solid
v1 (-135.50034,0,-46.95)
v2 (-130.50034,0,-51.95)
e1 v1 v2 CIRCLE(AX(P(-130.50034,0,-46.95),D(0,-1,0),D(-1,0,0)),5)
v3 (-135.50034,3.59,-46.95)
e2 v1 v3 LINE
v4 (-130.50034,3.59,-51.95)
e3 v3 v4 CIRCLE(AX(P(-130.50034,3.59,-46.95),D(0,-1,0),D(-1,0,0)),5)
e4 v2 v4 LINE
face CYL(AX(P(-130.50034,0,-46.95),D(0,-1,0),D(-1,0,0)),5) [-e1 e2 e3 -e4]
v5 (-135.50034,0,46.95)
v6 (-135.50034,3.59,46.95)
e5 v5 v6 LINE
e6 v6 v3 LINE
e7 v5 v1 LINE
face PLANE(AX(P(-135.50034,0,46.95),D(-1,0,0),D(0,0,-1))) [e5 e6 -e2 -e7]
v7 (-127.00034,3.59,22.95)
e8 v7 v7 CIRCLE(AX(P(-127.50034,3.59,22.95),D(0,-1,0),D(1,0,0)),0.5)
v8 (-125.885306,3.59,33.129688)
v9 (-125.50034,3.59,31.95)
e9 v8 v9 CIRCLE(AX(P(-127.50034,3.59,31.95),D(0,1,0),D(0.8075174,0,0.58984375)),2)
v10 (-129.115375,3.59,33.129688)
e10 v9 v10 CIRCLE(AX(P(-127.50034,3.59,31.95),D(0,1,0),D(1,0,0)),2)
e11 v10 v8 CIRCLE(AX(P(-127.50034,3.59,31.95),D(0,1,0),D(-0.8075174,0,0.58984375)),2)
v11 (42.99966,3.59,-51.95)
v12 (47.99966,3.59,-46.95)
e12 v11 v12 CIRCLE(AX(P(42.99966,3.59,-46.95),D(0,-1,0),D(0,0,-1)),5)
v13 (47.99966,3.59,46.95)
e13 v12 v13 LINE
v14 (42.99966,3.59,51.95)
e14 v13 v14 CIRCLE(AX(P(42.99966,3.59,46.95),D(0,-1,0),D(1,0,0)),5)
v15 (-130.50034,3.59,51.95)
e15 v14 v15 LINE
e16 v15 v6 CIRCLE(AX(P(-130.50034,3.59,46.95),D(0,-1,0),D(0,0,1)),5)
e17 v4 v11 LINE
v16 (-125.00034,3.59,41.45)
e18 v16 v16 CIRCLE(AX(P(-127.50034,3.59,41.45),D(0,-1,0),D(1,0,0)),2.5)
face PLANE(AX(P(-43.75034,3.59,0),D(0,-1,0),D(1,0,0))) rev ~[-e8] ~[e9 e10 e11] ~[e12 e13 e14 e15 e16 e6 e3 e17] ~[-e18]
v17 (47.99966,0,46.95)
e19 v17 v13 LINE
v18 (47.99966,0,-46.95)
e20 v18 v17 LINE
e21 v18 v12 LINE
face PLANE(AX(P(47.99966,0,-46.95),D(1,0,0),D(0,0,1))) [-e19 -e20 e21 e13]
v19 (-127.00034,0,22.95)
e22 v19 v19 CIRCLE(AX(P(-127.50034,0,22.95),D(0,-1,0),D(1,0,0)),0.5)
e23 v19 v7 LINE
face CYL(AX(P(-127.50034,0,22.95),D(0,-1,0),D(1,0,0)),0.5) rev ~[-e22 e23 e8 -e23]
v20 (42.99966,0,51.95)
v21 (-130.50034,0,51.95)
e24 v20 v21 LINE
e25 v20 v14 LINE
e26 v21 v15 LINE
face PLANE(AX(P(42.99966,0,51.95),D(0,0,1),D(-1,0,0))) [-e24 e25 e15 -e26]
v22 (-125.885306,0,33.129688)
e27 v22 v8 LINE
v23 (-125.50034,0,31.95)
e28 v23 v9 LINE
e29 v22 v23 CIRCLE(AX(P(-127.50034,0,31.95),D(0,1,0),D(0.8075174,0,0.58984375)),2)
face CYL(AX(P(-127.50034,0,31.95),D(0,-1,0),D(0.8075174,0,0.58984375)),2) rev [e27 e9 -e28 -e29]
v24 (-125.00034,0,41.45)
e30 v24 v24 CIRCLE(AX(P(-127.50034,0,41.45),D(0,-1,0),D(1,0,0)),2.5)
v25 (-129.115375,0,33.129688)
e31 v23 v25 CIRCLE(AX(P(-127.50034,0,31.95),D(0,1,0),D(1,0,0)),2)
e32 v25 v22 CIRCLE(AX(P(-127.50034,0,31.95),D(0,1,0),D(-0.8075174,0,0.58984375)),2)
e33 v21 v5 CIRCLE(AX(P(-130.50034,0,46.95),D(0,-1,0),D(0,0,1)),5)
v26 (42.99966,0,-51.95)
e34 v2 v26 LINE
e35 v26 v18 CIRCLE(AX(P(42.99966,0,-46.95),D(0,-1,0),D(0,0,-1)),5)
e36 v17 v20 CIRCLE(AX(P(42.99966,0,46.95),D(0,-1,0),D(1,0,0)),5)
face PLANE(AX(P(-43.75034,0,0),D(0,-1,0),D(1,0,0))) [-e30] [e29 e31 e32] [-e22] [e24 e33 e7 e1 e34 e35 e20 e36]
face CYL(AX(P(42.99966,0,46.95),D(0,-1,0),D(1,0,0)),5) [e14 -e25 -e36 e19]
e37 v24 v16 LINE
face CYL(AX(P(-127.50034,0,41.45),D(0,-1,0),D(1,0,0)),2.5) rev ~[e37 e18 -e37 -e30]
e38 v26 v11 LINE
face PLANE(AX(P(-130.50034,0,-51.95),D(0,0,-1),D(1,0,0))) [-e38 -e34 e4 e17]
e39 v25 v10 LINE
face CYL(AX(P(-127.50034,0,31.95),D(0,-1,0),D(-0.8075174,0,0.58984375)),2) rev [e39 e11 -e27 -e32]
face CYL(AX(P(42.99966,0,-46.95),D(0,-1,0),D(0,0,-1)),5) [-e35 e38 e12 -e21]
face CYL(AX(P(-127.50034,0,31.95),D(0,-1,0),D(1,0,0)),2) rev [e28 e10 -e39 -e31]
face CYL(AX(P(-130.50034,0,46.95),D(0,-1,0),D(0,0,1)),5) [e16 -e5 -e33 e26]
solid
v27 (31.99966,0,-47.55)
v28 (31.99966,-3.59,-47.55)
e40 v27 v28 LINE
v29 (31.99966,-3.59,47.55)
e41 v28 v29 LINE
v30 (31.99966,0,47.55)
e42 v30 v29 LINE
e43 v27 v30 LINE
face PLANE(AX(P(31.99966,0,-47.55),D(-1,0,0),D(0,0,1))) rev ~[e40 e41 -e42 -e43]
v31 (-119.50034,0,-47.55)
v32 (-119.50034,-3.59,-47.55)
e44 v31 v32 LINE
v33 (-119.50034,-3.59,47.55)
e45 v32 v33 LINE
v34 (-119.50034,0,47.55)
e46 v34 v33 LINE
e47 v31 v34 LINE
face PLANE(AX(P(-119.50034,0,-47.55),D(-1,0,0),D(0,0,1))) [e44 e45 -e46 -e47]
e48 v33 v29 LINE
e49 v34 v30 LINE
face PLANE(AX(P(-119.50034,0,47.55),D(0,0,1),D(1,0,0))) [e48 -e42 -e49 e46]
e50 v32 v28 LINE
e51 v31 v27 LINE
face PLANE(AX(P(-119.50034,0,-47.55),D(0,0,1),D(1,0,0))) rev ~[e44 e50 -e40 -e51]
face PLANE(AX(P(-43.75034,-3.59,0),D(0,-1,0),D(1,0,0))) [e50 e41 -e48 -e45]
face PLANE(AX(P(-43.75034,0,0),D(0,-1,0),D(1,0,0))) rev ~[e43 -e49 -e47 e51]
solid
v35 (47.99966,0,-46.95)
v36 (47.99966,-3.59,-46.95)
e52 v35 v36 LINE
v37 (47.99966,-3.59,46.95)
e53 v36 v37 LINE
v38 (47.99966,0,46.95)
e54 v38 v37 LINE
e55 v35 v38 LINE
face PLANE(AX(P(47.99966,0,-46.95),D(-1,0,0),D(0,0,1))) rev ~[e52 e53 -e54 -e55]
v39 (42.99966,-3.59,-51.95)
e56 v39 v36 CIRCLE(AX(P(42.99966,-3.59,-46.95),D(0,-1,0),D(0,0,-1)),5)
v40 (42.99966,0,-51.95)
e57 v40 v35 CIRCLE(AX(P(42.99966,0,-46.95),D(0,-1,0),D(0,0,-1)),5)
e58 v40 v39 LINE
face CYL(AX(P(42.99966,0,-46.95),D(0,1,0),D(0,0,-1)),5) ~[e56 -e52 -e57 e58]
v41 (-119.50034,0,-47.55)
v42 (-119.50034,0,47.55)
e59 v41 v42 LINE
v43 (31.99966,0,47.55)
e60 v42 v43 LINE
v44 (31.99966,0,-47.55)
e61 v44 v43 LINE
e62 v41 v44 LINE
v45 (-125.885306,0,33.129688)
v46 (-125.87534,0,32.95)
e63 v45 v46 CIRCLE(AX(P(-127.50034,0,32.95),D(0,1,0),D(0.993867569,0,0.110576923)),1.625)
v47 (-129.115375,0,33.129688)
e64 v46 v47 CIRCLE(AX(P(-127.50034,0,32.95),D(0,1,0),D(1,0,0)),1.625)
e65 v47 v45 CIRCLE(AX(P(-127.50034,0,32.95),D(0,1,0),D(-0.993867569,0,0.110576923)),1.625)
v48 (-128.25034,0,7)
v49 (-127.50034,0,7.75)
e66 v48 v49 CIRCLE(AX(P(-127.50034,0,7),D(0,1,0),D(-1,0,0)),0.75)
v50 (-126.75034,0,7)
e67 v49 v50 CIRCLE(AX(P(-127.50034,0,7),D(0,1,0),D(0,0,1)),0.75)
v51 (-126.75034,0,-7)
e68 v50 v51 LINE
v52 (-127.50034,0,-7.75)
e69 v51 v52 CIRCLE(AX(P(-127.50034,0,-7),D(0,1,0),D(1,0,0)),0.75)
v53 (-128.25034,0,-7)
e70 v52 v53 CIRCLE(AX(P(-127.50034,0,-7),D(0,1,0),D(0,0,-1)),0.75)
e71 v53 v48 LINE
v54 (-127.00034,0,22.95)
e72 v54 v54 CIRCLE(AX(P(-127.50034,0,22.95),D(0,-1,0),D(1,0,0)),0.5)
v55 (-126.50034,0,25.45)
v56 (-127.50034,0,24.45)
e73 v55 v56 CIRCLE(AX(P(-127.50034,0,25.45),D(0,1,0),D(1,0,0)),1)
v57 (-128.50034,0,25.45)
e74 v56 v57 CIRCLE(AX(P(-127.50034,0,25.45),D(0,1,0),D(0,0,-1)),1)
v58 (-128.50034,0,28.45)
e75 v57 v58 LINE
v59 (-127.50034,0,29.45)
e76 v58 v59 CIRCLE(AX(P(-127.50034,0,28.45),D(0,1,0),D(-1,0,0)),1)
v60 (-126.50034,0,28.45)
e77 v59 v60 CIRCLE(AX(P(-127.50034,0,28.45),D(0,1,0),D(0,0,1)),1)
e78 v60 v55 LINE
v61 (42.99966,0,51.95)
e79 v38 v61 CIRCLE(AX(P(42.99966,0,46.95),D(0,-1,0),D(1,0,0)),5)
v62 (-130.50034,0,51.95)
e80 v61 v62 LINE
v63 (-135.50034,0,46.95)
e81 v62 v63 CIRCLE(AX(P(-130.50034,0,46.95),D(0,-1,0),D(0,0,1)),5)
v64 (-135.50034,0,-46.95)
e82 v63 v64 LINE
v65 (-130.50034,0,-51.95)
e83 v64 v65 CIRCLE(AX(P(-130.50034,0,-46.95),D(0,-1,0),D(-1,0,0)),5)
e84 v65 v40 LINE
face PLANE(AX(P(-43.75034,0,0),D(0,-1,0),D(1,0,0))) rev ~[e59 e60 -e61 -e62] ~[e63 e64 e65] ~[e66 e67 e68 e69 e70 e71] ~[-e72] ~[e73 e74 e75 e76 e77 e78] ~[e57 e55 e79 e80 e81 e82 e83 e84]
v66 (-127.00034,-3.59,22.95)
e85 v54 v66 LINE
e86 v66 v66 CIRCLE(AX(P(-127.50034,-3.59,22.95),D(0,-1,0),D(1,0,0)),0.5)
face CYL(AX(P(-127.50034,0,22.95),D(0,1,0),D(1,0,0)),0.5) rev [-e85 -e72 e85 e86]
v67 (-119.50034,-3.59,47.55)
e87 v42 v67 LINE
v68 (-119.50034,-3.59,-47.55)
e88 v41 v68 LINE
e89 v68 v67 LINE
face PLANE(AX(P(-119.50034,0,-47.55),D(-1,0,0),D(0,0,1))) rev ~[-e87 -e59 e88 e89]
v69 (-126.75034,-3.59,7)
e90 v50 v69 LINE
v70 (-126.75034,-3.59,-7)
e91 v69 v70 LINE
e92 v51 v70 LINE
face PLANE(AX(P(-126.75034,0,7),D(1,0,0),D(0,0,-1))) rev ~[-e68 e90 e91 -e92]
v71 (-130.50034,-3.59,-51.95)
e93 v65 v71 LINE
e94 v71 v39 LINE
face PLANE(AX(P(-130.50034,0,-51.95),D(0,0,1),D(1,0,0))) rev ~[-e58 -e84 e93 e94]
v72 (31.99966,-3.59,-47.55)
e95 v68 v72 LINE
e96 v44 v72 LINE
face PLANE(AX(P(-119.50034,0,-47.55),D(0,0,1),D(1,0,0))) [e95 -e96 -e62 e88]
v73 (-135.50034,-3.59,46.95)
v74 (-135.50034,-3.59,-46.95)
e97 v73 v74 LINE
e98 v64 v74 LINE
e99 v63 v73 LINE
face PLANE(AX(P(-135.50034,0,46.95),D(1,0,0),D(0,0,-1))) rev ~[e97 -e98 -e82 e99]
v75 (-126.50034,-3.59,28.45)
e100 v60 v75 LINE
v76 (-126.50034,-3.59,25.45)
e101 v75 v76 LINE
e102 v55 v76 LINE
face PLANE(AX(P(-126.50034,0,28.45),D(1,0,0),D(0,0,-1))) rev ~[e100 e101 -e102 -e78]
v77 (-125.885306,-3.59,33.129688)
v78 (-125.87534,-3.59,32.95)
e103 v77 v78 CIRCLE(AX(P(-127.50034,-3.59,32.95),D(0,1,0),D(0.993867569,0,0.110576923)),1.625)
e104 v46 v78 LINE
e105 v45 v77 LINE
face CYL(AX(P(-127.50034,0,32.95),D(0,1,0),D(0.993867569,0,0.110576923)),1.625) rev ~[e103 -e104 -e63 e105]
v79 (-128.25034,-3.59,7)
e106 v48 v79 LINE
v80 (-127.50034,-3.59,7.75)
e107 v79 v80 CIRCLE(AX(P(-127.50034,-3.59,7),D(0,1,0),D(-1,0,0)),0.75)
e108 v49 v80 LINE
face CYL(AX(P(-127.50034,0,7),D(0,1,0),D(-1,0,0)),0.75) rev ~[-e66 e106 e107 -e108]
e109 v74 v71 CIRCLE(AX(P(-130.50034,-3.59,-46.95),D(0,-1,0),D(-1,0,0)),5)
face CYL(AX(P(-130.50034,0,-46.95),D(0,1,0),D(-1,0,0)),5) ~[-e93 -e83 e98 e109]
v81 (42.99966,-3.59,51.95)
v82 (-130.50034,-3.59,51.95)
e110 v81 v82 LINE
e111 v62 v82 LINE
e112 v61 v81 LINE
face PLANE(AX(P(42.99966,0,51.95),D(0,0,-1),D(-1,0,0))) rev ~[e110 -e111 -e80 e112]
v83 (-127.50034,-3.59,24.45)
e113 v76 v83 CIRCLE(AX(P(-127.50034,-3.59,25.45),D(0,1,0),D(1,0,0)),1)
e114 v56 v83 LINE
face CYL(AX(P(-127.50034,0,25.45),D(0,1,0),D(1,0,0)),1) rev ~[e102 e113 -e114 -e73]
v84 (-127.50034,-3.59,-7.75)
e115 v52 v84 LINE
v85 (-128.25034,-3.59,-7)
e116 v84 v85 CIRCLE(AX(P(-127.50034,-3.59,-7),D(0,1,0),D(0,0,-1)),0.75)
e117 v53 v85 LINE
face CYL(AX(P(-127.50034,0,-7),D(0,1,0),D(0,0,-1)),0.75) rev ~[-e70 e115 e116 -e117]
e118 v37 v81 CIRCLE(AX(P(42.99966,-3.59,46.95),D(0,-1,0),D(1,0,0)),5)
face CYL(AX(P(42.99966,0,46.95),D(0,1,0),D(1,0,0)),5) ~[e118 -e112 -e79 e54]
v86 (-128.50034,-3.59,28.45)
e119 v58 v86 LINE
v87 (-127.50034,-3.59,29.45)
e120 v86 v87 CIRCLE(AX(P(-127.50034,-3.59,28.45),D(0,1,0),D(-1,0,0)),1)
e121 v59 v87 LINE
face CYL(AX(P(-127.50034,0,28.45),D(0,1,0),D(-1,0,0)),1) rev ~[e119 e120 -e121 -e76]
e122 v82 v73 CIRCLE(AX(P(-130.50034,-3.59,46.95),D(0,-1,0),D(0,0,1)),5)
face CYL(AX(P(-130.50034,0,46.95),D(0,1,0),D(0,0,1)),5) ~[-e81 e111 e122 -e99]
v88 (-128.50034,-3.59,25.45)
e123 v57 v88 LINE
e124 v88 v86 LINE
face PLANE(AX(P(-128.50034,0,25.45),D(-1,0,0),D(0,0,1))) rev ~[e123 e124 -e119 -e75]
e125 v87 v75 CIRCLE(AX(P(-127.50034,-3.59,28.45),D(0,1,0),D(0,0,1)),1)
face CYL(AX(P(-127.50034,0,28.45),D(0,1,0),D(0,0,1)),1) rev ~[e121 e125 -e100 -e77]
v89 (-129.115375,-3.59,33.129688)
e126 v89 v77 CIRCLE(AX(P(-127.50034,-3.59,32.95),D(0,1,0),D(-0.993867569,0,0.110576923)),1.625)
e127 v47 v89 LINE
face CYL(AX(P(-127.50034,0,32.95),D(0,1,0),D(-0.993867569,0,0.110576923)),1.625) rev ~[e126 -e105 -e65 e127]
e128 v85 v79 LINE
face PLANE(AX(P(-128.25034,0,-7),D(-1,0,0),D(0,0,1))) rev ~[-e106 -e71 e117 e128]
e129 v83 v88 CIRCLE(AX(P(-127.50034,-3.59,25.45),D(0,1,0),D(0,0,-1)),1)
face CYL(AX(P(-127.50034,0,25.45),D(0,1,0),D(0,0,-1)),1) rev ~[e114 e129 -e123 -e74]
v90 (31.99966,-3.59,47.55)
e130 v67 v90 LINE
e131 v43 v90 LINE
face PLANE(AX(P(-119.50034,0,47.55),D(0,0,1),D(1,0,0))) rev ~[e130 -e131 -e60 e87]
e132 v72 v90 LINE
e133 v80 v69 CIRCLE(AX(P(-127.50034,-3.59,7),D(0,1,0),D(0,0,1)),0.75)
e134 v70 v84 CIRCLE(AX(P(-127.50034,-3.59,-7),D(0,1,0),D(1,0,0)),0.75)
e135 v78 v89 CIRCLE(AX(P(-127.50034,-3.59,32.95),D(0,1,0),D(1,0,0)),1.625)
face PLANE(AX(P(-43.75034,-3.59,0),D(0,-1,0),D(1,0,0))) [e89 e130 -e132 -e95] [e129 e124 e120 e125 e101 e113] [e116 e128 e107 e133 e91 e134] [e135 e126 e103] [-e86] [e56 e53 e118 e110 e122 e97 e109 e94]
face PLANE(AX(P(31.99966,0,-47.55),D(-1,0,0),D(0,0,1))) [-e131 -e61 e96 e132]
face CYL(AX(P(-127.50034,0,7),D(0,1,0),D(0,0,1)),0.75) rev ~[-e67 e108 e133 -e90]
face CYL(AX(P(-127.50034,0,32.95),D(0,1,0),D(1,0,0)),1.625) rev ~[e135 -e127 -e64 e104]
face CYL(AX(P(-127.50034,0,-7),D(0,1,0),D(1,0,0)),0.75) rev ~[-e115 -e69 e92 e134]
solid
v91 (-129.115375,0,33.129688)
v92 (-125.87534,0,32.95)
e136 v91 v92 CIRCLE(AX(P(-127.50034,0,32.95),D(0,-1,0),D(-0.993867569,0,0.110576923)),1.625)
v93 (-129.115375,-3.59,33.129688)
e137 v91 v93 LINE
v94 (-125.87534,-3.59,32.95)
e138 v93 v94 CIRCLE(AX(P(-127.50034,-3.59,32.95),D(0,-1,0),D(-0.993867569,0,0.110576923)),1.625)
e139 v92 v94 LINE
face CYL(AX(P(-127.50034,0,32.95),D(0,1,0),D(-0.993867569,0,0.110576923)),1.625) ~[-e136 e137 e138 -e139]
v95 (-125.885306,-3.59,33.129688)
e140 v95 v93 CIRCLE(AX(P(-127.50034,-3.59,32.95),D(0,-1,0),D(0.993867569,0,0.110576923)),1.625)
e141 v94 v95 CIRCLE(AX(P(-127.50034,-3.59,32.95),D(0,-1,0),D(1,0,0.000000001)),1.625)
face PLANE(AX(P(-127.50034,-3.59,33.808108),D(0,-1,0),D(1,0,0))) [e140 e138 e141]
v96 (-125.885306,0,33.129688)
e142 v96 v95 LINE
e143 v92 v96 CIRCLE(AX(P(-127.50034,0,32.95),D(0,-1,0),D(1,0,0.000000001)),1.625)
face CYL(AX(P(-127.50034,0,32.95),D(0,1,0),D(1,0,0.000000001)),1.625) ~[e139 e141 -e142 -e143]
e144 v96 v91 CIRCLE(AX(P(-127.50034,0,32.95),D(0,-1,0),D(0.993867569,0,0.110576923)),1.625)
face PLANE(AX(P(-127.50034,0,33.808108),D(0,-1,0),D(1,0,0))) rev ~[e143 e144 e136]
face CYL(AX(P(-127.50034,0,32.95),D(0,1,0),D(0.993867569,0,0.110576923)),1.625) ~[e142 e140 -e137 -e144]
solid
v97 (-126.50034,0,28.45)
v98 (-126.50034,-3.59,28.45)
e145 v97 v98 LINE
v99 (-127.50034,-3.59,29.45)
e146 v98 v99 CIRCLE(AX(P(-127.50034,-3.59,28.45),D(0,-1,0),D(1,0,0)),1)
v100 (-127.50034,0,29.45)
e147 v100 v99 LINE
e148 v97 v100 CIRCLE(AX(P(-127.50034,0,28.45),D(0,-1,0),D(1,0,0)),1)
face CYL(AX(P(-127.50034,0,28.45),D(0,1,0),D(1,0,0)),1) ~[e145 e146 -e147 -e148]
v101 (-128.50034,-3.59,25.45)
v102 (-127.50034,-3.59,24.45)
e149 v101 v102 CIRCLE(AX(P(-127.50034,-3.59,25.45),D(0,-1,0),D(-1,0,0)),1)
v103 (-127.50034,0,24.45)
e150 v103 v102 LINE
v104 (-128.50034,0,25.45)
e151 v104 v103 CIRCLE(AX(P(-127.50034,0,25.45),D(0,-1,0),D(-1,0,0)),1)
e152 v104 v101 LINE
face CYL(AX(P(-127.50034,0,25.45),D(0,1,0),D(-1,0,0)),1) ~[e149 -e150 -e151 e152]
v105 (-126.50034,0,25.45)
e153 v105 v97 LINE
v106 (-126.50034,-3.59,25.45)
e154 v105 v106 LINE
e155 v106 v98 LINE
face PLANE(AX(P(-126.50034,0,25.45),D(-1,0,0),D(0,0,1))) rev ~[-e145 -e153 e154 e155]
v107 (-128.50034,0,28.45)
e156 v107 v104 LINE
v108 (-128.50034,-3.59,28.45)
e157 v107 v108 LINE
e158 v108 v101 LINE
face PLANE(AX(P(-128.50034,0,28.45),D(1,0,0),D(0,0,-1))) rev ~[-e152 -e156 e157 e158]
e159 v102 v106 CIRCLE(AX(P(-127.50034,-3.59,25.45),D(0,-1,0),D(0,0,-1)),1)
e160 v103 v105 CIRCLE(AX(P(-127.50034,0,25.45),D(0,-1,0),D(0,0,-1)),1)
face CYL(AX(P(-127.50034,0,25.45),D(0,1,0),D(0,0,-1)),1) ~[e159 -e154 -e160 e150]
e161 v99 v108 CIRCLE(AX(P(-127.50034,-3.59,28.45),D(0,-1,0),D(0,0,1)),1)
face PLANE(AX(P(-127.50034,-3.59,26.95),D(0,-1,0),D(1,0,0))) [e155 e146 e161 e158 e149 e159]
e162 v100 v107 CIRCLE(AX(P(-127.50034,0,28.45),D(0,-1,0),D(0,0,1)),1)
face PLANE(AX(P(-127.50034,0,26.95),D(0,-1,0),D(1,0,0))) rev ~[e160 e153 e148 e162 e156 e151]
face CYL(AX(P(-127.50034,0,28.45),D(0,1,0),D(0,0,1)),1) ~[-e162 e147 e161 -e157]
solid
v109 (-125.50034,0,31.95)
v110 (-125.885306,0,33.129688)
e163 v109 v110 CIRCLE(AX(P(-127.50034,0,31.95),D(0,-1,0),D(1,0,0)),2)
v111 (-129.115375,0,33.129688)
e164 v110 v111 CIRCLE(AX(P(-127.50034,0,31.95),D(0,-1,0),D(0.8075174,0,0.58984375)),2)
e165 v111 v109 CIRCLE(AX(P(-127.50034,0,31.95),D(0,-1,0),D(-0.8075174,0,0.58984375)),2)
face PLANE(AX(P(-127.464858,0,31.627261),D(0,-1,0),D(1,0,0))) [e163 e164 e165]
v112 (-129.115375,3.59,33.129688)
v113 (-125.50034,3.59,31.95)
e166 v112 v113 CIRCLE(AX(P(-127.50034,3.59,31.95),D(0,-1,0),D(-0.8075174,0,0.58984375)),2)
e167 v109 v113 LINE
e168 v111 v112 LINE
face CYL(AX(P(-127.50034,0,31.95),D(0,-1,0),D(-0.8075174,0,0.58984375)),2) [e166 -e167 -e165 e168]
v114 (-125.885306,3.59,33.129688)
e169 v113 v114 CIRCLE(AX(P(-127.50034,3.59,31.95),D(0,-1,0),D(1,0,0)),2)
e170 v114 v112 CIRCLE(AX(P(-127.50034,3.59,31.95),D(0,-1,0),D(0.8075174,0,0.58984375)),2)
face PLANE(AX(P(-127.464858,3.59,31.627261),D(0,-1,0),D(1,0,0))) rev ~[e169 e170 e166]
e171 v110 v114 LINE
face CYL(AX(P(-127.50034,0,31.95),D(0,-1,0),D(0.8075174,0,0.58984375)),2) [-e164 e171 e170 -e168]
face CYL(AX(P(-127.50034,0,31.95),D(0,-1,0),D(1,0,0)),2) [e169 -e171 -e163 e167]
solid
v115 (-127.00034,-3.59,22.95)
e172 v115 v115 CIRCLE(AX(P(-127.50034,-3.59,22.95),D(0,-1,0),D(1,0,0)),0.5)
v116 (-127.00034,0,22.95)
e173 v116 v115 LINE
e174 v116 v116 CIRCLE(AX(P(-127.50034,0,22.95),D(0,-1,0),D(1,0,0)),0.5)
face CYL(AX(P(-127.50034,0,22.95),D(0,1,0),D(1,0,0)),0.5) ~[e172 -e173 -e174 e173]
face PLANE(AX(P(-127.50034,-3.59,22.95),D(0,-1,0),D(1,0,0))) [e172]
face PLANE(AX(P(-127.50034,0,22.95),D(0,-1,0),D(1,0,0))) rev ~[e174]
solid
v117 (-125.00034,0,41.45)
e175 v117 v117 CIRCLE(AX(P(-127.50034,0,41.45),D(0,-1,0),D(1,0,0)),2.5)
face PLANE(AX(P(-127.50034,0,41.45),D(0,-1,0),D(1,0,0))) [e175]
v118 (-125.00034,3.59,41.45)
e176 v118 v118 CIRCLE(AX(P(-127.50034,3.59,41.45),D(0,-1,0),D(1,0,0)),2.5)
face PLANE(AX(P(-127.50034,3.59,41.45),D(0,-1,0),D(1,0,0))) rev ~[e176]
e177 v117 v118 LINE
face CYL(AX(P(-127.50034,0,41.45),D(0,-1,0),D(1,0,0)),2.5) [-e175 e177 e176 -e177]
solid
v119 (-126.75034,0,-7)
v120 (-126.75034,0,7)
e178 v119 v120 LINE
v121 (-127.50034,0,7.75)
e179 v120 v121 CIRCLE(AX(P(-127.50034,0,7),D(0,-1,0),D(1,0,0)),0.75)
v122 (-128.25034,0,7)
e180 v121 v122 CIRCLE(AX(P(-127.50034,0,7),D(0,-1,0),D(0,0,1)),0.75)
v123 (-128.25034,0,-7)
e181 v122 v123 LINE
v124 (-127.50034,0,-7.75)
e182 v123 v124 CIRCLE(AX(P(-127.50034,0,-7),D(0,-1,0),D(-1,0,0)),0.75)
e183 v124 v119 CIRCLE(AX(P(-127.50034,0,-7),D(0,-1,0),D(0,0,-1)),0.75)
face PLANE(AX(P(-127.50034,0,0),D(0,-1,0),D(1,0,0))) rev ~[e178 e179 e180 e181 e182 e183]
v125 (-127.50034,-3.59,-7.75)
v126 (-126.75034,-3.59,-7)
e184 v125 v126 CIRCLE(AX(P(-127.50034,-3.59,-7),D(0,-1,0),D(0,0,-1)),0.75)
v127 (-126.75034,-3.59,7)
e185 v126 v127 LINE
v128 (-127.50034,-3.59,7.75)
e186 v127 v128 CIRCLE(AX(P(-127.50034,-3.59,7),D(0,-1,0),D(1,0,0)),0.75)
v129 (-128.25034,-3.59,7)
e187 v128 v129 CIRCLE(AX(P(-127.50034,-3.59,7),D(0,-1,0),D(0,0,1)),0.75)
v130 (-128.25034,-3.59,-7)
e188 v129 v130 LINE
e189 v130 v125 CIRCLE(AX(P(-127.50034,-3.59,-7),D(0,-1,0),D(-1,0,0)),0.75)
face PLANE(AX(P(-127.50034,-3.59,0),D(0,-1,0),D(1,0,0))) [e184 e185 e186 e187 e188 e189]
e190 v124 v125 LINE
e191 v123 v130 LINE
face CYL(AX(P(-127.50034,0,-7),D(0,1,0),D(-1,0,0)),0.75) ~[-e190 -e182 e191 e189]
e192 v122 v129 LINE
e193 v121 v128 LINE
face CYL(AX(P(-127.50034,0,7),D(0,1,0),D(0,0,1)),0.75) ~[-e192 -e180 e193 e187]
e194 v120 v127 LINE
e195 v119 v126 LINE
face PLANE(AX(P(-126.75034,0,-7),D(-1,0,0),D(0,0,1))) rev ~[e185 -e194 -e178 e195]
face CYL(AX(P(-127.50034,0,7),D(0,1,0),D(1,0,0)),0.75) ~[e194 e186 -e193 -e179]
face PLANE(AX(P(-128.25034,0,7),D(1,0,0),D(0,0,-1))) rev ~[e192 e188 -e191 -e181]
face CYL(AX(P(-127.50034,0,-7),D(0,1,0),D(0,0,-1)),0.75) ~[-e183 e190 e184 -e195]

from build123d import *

# Parameters (mm, degrees)
F0_R     = 0.5
F0_R_2   = 2.5
F0_W     = 151.5
F0_H     = 95.1
F1_DEPTH = 3.59
F2_DEPTH = 3.59
F3_DEPTH = 3.59
F4_DEPTH = 3.59


with BuildPart() as f1:
    # F0 (on Front) → F1 (new body)
    with BuildSketch(Plane.XZ):
        with BuildLine():
            Line((42.9996596575, 51.95), (-130.5003403425, 51.95))
            ThreePointArc((-130.5003403425, 51.95), (-134.0358742485, 50.4855339059), (-135.5003403425, 46.95))
            Line((-135.5003403425, 46.95), (-135.5003403425, -46.95))
            ThreePointArc((-135.5003403425, -46.95), (-134.0358742485, -50.4855339059), (-130.5003403425, -51.95))
            Line((-130.5003403425, -51.95), (42.9996596575, -51.95))
            ThreePointArc((42.9996596575, -51.95), (46.5351935634, -50.4855339059), (47.9996596575, -46.95))
            Line((47.9996596575, -46.95), (47.9996596575, 46.95))
            ThreePointArc((47.9996596575, 46.95), (46.5351935634, 50.4855339059), (42.9996596575, 51.95))
        make_face()
        with BuildLine():
            Line((-126.7503403425, 7), (-126.7503403425, -7))
            ThreePointArc((-126.7503403425, -7), (-126.9700102566, -7.5303300859), (-127.5003403425, -7.75))
            ThreePointArc((-127.5003403425, -7.75), (-128.0306704284, -7.5303300859), (-128.2503403425, -7))
            Line((-128.2503403425, -7), (-128.2503403425, 7))
            ThreePointArc((-128.2503403425, 7), (-128.0306704284, 7.5303300859), (-127.5003403425, 7.75))
            ThreePointArc((-127.5003403425, 7.75), (-126.9700102566, 7.5303300859), (-126.7503403425, 7))
        make_face(mode=Mode.SUBTRACT)
        with Locations((-127.5003403425, 22.95)):
            Circle(F0_R, mode=Mode.SUBTRACT)
        with BuildLine():
            Line((-126.5003403425, 28.45), (-126.5003403425, 25.45))
            ThreePointArc((-126.5003403425, 25.45), (-126.7932335613, 24.7428932188), (-127.5003403425, 24.45))
            ThreePointArc((-127.5003403425, 24.45), (-128.2074471237, 24.7428932188), (-128.5003403425, 25.45))
            Line((-128.5003403425, 25.45), (-128.5003403425, 28.45))
            ThreePointArc((-128.5003403425, 28.45), (-128.2074471237, 29.1571067812), (-127.5003403425, 29.45))
            ThreePointArc((-127.5003403425, 29.45), (-126.7932335613, 29.1571067812), (-126.5003403425, 28.45))
        make_face(mode=Mode.SUBTRACT)
        with BuildLine():
            ThreePointArc((-129.1153751416, 33.1296875), (-127.5003403425, 34.575), (-125.8853055434, 33.1296875))
            ThreePointArc((-125.8853055434, 33.1296875), (-125.599015857, 32.5704556397), (-125.5003403425, 31.95))
            ThreePointArc((-125.5003403425, 31.95), (-128.1207959823, 30.0486755145), (-129.1153751416, 33.1296875))
        make_face(mode=Mode.SUBTRACT)
        with Locations((-127.5003403425, 41.45)):
            Circle(F0_R_2, mode=Mode.SUBTRACT)
        with Locations((-43.7503403425, 0)):
            Rectangle(F0_W, F0_H, mode=Mode.SUBTRACT)
        with Locations((-127.5003403425, 41.45)):
            Circle(F0_R_2)
        with BuildLine():
            ThreePointArc((-125.8853055434, 33.1296875), (-125.8778335554, 33.0399818077), (-125.8753403425, 32.95))
            ThreePointArc((-125.8753403425, 32.95), (-127.5903221502, 31.3274932129), (-129.1153751416, 33.1296875))
            ThreePointArc((-129.1153751416, 33.1296875), (-128.1207959823, 30.0486755145), (-125.5003403425, 31.95))
            ThreePointArc((-125.5003403425, 31.95), (-125.599015857, 32.5704556397), (-125.8853055434, 33.1296875))
        make_face()
    extrude(amount=F1_DEPTH)


with BuildPart() as f2:
    # F0 (on Front) → F2 (new body, through all)
    with BuildSketch(Plane.XZ):
        with BuildLine():
            ThreePointArc((-129.1153751416, 33.1296875), (-127.5003403425, 33.95), (-125.8853055434, 33.1296875))
            ThreePointArc((-125.8853055434, 33.1296875), (-127.5003403425, 34.575), (-129.1153751416, 33.1296875))
        make_face()
        with BuildLine():
            ThreePointArc((-129.1153751416, 33.1296875), (-127.5903221502, 31.3274932129), (-125.8753403425, 32.95))
            ThreePointArc((-125.8753403425, 32.95), (-125.8778335554, 33.0399818077), (-125.8853055434, 33.1296875))
            ThreePointArc((-125.8853055434, 33.1296875), (-127.5003403425, 33.95), (-129.1153751416, 33.1296875))
        make_face()
    extrude(amount=F2_DEPTH)


with BuildPart() as f2b:
    # F0 (on Front) → F2, piece 2 (new body, through all)
    with BuildSketch(Plane.XZ):
        with BuildLine():
            ThreePointArc((-127.5003403425, 24.45), (-126.7932335613, 24.7428932188), (-126.5003403425, 25.45))
            Line((-126.5003403425, 25.45), (-126.5003403425, 28.45))
            ThreePointArc((-126.5003403425, 28.45), (-126.7932335613, 29.1571067812), (-127.5003403425, 29.45))
            ThreePointArc((-127.5003403425, 29.45), (-128.2074471237, 29.1571067812), (-128.5003403425, 28.45))
            Line((-128.5003403425, 28.45), (-128.5003403425, 25.45))
            ThreePointArc((-128.5003403425, 25.45), (-128.2074471237, 24.7428932188), (-127.5003403425, 24.45))
        make_face()
    extrude(amount=F2_DEPTH)


with BuildPart() as f2c:
    # F0 (on Front) → F2, piece 3 (new body, through all)
    with BuildSketch(Plane.XZ):
        with Locations((-43.7503403425, 0)):
            Rectangle(F0_W, F0_H)
    extrude(amount=F2_DEPTH)


with BuildPart() as f2d:
    # F0 (on Front) → F2, piece 4 (new body, through all)
    with BuildSketch(Plane.XZ):
        with BuildLine():
            ThreePointArc((-127.5003403425, -7.75), (-126.9700102566, -7.5303300859), (-126.7503403425, -7))
            Line((-126.7503403425, -7), (-126.7503403425, 7))
            ThreePointArc((-126.7503403425, 7), (-126.9700102566, 7.5303300859), (-127.5003403425, 7.75))
            ThreePointArc((-127.5003403425, 7.75), (-128.0306704284, 7.5303300859), (-128.2503403425, 7))
            Line((-128.2503403425, 7), (-128.2503403425, -7))
            ThreePointArc((-128.2503403425, -7), (-128.0306704284, -7.5303300859), (-127.5003403425, -7.75))
        make_face()
    extrude(amount=F2_DEPTH)


with BuildPart() as f2e:
    # F0 (on Front) → F2, piece 5 (new body, through all)
    with BuildSketch(Plane.XZ):
        with Locations((-127.5003403425, 22.95)):
            Circle(F0_R)
    extrude(amount=F2_DEPTH)


with BuildPart() as f3:
    # F0 (on Front) → F3 (new body)
    with BuildSketch(Plane.XZ):
        with BuildLine():
            Line((42.9996596575, 51.95), (-130.5003403425, 51.95))
            ThreePointArc((-130.5003403425, 51.95), (-134.0358742485, 50.4855339059), (-135.5003403425, 46.95))
            Line((-135.5003403425, 46.95), (-135.5003403425, -46.95))
            ThreePointArc((-135.5003403425, -46.95), (-134.0358742485, -50.4855339059), (-130.5003403425, -51.95))
            Line((-130.5003403425, -51.95), (42.9996596575, -51.95))
            ThreePointArc((42.9996596575, -51.95), (46.5351935634, -50.4855339059), (47.9996596575, -46.95))
            Line((47.9996596575, -46.95), (47.9996596575, 46.95))
            ThreePointArc((47.9996596575, 46.95), (46.5351935634, 50.4855339059), (42.9996596575, 51.95))
        make_face()
        with BuildLine():
            Line((-126.7503403425, 7), (-126.7503403425, -7))
            ThreePointArc((-126.7503403425, -7), (-126.9700102566, -7.5303300859), (-127.5003403425, -7.75))
            ThreePointArc((-127.5003403425, -7.75), (-128.0306704284, -7.5303300859), (-128.2503403425, -7))
            Line((-128.2503403425, -7), (-128.2503403425, 7))
            ThreePointArc((-128.2503403425, 7), (-128.0306704284, 7.5303300859), (-127.5003403425, 7.75))
            ThreePointArc((-127.5003403425, 7.75), (-126.9700102566, 7.5303300859), (-126.7503403425, 7))
        make_face(mode=Mode.SUBTRACT)
        with Locations((-127.5003403425, 22.95)):
            Circle(F0_R, mode=Mode.SUBTRACT)
        with BuildLine():
            Line((-126.5003403425, 28.45), (-126.5003403425, 25.45))
            ThreePointArc((-126.5003403425, 25.45), (-126.7932335613, 24.7428932188), (-127.5003403425, 24.45))
            ThreePointArc((-127.5003403425, 24.45), (-128.2074471237, 24.7428932188), (-128.5003403425, 25.45))
            Line((-128.5003403425, 25.45), (-128.5003403425, 28.45))
            ThreePointArc((-128.5003403425, 28.45), (-128.2074471237, 29.1571067812), (-127.5003403425, 29.45))
            ThreePointArc((-127.5003403425, 29.45), (-126.7932335613, 29.1571067812), (-126.5003403425, 28.45))
        make_face(mode=Mode.SUBTRACT)
        with BuildLine():
            ThreePointArc((-129.1153751416, 33.1296875), (-127.5003403425, 34.575), (-125.8853055434, 33.1296875))
            ThreePointArc((-125.8853055434, 33.1296875), (-125.599015857, 32.5704556397), (-125.5003403425, 31.95))
            ThreePointArc((-125.5003403425, 31.95), (-128.1207959823, 30.0486755145), (-129.1153751416, 33.1296875))
        make_face(mode=Mode.SUBTRACT)
        with Locations((-127.5003403425, 41.45)):
            Circle(F0_R_2, mode=Mode.SUBTRACT)
        with Locations((-43.7503403425, 0)):
            Rectangle(F0_W, F0_H, mode=Mode.SUBTRACT)
        with Locations((-43.7503403425, 0)):
            Rectangle(F0_W, F0_H)
        with BuildLine():
            ThreePointArc((-127.5003403425, -7.75), (-126.9700102566, -7.5303300859), (-126.7503403425, -7))
            Line((-126.7503403425, -7), (-126.7503403425, 7))
            ThreePointArc((-126.7503403425, 7), (-126.9700102566, 7.5303300859), (-127.5003403425, 7.75))
            ThreePointArc((-127.5003403425, 7.75), (-128.0306704284, 7.5303300859), (-128.2503403425, 7))
            Line((-128.2503403425, 7), (-128.2503403425, -7))
            ThreePointArc((-128.2503403425, -7), (-128.0306704284, -7.5303300859), (-127.5003403425, -7.75))
        make_face()
        with BuildLine():
            ThreePointArc((-127.5003403425, 24.45), (-126.7932335613, 24.7428932188), (-126.5003403425, 25.45))
            Line((-126.5003403425, 25.45), (-126.5003403425, 28.45))
            ThreePointArc((-126.5003403425, 28.45), (-126.7932335613, 29.1571067812), (-127.5003403425, 29.45))
            ThreePointArc((-127.5003403425, 29.45), (-128.2074471237, 29.1571067812), (-128.5003403425, 28.45))
            Line((-128.5003403425, 28.45), (-128.5003403425, 25.45))
            ThreePointArc((-128.5003403425, 25.45), (-128.2074471237, 24.7428932188), (-127.5003403425, 24.45))
        make_face()
        with BuildLine():
            ThreePointArc((-129.1153751416, 33.1296875), (-127.5003403425, 33.95), (-125.8853055434, 33.1296875))
            ThreePointArc((-125.8853055434, 33.1296875), (-127.5003403425, 34.575), (-129.1153751416, 33.1296875))
        make_face()
    extrude(amount=-F3_DEPTH)


with BuildPart() as f4:
    # F0 (on Front) → F4 (new body, through all)
    with BuildSketch(Plane.XZ):
        with Locations((-127.5003403425, 41.45)):
            Circle(F0_R_2)
    extrude(amount=-F4_DEPTH)


with BuildPart() as f4b:
    # F0 (on Front) → F4, piece 2 (new body, through all)
    with BuildSketch(Plane.XZ):
        with BuildLine():
            ThreePointArc((-125.8853055434, 33.1296875), (-125.8778335554, 33.0399818077), (-125.8753403425, 32.95))
            ThreePointArc((-125.8753403425, 32.95), (-127.5903221502, 31.3274932129), (-129.1153751416, 33.1296875))
            ThreePointArc((-129.1153751416, 33.1296875), (-128.1207959823, 30.0486755145), (-125.5003403425, 31.95))
            ThreePointArc((-125.5003403425, 31.95), (-125.599015857, 32.5704556397), (-125.8853055434, 33.1296875))
        make_face()
        with BuildLine():
            ThreePointArc((-129.1153751416, 33.1296875), (-127.5903221502, 31.3274932129), (-125.8753403425, 32.95))
            ThreePointArc((-125.8753403425, 32.95), (-125.8778335554, 33.0399818077), (-125.8853055434, 33.1296875))
            ThreePointArc((-125.8853055434, 33.1296875), (-127.5003403425, 33.95), (-129.1153751416, 33.1296875))
        make_face()
    extrude(amount=-F4_DEPTH)


solid = Compound([f1.part, f2.part, f2b.part, f2c.part, f2d.part, f2e.part, f3.part, f4.part, f4b.part])
